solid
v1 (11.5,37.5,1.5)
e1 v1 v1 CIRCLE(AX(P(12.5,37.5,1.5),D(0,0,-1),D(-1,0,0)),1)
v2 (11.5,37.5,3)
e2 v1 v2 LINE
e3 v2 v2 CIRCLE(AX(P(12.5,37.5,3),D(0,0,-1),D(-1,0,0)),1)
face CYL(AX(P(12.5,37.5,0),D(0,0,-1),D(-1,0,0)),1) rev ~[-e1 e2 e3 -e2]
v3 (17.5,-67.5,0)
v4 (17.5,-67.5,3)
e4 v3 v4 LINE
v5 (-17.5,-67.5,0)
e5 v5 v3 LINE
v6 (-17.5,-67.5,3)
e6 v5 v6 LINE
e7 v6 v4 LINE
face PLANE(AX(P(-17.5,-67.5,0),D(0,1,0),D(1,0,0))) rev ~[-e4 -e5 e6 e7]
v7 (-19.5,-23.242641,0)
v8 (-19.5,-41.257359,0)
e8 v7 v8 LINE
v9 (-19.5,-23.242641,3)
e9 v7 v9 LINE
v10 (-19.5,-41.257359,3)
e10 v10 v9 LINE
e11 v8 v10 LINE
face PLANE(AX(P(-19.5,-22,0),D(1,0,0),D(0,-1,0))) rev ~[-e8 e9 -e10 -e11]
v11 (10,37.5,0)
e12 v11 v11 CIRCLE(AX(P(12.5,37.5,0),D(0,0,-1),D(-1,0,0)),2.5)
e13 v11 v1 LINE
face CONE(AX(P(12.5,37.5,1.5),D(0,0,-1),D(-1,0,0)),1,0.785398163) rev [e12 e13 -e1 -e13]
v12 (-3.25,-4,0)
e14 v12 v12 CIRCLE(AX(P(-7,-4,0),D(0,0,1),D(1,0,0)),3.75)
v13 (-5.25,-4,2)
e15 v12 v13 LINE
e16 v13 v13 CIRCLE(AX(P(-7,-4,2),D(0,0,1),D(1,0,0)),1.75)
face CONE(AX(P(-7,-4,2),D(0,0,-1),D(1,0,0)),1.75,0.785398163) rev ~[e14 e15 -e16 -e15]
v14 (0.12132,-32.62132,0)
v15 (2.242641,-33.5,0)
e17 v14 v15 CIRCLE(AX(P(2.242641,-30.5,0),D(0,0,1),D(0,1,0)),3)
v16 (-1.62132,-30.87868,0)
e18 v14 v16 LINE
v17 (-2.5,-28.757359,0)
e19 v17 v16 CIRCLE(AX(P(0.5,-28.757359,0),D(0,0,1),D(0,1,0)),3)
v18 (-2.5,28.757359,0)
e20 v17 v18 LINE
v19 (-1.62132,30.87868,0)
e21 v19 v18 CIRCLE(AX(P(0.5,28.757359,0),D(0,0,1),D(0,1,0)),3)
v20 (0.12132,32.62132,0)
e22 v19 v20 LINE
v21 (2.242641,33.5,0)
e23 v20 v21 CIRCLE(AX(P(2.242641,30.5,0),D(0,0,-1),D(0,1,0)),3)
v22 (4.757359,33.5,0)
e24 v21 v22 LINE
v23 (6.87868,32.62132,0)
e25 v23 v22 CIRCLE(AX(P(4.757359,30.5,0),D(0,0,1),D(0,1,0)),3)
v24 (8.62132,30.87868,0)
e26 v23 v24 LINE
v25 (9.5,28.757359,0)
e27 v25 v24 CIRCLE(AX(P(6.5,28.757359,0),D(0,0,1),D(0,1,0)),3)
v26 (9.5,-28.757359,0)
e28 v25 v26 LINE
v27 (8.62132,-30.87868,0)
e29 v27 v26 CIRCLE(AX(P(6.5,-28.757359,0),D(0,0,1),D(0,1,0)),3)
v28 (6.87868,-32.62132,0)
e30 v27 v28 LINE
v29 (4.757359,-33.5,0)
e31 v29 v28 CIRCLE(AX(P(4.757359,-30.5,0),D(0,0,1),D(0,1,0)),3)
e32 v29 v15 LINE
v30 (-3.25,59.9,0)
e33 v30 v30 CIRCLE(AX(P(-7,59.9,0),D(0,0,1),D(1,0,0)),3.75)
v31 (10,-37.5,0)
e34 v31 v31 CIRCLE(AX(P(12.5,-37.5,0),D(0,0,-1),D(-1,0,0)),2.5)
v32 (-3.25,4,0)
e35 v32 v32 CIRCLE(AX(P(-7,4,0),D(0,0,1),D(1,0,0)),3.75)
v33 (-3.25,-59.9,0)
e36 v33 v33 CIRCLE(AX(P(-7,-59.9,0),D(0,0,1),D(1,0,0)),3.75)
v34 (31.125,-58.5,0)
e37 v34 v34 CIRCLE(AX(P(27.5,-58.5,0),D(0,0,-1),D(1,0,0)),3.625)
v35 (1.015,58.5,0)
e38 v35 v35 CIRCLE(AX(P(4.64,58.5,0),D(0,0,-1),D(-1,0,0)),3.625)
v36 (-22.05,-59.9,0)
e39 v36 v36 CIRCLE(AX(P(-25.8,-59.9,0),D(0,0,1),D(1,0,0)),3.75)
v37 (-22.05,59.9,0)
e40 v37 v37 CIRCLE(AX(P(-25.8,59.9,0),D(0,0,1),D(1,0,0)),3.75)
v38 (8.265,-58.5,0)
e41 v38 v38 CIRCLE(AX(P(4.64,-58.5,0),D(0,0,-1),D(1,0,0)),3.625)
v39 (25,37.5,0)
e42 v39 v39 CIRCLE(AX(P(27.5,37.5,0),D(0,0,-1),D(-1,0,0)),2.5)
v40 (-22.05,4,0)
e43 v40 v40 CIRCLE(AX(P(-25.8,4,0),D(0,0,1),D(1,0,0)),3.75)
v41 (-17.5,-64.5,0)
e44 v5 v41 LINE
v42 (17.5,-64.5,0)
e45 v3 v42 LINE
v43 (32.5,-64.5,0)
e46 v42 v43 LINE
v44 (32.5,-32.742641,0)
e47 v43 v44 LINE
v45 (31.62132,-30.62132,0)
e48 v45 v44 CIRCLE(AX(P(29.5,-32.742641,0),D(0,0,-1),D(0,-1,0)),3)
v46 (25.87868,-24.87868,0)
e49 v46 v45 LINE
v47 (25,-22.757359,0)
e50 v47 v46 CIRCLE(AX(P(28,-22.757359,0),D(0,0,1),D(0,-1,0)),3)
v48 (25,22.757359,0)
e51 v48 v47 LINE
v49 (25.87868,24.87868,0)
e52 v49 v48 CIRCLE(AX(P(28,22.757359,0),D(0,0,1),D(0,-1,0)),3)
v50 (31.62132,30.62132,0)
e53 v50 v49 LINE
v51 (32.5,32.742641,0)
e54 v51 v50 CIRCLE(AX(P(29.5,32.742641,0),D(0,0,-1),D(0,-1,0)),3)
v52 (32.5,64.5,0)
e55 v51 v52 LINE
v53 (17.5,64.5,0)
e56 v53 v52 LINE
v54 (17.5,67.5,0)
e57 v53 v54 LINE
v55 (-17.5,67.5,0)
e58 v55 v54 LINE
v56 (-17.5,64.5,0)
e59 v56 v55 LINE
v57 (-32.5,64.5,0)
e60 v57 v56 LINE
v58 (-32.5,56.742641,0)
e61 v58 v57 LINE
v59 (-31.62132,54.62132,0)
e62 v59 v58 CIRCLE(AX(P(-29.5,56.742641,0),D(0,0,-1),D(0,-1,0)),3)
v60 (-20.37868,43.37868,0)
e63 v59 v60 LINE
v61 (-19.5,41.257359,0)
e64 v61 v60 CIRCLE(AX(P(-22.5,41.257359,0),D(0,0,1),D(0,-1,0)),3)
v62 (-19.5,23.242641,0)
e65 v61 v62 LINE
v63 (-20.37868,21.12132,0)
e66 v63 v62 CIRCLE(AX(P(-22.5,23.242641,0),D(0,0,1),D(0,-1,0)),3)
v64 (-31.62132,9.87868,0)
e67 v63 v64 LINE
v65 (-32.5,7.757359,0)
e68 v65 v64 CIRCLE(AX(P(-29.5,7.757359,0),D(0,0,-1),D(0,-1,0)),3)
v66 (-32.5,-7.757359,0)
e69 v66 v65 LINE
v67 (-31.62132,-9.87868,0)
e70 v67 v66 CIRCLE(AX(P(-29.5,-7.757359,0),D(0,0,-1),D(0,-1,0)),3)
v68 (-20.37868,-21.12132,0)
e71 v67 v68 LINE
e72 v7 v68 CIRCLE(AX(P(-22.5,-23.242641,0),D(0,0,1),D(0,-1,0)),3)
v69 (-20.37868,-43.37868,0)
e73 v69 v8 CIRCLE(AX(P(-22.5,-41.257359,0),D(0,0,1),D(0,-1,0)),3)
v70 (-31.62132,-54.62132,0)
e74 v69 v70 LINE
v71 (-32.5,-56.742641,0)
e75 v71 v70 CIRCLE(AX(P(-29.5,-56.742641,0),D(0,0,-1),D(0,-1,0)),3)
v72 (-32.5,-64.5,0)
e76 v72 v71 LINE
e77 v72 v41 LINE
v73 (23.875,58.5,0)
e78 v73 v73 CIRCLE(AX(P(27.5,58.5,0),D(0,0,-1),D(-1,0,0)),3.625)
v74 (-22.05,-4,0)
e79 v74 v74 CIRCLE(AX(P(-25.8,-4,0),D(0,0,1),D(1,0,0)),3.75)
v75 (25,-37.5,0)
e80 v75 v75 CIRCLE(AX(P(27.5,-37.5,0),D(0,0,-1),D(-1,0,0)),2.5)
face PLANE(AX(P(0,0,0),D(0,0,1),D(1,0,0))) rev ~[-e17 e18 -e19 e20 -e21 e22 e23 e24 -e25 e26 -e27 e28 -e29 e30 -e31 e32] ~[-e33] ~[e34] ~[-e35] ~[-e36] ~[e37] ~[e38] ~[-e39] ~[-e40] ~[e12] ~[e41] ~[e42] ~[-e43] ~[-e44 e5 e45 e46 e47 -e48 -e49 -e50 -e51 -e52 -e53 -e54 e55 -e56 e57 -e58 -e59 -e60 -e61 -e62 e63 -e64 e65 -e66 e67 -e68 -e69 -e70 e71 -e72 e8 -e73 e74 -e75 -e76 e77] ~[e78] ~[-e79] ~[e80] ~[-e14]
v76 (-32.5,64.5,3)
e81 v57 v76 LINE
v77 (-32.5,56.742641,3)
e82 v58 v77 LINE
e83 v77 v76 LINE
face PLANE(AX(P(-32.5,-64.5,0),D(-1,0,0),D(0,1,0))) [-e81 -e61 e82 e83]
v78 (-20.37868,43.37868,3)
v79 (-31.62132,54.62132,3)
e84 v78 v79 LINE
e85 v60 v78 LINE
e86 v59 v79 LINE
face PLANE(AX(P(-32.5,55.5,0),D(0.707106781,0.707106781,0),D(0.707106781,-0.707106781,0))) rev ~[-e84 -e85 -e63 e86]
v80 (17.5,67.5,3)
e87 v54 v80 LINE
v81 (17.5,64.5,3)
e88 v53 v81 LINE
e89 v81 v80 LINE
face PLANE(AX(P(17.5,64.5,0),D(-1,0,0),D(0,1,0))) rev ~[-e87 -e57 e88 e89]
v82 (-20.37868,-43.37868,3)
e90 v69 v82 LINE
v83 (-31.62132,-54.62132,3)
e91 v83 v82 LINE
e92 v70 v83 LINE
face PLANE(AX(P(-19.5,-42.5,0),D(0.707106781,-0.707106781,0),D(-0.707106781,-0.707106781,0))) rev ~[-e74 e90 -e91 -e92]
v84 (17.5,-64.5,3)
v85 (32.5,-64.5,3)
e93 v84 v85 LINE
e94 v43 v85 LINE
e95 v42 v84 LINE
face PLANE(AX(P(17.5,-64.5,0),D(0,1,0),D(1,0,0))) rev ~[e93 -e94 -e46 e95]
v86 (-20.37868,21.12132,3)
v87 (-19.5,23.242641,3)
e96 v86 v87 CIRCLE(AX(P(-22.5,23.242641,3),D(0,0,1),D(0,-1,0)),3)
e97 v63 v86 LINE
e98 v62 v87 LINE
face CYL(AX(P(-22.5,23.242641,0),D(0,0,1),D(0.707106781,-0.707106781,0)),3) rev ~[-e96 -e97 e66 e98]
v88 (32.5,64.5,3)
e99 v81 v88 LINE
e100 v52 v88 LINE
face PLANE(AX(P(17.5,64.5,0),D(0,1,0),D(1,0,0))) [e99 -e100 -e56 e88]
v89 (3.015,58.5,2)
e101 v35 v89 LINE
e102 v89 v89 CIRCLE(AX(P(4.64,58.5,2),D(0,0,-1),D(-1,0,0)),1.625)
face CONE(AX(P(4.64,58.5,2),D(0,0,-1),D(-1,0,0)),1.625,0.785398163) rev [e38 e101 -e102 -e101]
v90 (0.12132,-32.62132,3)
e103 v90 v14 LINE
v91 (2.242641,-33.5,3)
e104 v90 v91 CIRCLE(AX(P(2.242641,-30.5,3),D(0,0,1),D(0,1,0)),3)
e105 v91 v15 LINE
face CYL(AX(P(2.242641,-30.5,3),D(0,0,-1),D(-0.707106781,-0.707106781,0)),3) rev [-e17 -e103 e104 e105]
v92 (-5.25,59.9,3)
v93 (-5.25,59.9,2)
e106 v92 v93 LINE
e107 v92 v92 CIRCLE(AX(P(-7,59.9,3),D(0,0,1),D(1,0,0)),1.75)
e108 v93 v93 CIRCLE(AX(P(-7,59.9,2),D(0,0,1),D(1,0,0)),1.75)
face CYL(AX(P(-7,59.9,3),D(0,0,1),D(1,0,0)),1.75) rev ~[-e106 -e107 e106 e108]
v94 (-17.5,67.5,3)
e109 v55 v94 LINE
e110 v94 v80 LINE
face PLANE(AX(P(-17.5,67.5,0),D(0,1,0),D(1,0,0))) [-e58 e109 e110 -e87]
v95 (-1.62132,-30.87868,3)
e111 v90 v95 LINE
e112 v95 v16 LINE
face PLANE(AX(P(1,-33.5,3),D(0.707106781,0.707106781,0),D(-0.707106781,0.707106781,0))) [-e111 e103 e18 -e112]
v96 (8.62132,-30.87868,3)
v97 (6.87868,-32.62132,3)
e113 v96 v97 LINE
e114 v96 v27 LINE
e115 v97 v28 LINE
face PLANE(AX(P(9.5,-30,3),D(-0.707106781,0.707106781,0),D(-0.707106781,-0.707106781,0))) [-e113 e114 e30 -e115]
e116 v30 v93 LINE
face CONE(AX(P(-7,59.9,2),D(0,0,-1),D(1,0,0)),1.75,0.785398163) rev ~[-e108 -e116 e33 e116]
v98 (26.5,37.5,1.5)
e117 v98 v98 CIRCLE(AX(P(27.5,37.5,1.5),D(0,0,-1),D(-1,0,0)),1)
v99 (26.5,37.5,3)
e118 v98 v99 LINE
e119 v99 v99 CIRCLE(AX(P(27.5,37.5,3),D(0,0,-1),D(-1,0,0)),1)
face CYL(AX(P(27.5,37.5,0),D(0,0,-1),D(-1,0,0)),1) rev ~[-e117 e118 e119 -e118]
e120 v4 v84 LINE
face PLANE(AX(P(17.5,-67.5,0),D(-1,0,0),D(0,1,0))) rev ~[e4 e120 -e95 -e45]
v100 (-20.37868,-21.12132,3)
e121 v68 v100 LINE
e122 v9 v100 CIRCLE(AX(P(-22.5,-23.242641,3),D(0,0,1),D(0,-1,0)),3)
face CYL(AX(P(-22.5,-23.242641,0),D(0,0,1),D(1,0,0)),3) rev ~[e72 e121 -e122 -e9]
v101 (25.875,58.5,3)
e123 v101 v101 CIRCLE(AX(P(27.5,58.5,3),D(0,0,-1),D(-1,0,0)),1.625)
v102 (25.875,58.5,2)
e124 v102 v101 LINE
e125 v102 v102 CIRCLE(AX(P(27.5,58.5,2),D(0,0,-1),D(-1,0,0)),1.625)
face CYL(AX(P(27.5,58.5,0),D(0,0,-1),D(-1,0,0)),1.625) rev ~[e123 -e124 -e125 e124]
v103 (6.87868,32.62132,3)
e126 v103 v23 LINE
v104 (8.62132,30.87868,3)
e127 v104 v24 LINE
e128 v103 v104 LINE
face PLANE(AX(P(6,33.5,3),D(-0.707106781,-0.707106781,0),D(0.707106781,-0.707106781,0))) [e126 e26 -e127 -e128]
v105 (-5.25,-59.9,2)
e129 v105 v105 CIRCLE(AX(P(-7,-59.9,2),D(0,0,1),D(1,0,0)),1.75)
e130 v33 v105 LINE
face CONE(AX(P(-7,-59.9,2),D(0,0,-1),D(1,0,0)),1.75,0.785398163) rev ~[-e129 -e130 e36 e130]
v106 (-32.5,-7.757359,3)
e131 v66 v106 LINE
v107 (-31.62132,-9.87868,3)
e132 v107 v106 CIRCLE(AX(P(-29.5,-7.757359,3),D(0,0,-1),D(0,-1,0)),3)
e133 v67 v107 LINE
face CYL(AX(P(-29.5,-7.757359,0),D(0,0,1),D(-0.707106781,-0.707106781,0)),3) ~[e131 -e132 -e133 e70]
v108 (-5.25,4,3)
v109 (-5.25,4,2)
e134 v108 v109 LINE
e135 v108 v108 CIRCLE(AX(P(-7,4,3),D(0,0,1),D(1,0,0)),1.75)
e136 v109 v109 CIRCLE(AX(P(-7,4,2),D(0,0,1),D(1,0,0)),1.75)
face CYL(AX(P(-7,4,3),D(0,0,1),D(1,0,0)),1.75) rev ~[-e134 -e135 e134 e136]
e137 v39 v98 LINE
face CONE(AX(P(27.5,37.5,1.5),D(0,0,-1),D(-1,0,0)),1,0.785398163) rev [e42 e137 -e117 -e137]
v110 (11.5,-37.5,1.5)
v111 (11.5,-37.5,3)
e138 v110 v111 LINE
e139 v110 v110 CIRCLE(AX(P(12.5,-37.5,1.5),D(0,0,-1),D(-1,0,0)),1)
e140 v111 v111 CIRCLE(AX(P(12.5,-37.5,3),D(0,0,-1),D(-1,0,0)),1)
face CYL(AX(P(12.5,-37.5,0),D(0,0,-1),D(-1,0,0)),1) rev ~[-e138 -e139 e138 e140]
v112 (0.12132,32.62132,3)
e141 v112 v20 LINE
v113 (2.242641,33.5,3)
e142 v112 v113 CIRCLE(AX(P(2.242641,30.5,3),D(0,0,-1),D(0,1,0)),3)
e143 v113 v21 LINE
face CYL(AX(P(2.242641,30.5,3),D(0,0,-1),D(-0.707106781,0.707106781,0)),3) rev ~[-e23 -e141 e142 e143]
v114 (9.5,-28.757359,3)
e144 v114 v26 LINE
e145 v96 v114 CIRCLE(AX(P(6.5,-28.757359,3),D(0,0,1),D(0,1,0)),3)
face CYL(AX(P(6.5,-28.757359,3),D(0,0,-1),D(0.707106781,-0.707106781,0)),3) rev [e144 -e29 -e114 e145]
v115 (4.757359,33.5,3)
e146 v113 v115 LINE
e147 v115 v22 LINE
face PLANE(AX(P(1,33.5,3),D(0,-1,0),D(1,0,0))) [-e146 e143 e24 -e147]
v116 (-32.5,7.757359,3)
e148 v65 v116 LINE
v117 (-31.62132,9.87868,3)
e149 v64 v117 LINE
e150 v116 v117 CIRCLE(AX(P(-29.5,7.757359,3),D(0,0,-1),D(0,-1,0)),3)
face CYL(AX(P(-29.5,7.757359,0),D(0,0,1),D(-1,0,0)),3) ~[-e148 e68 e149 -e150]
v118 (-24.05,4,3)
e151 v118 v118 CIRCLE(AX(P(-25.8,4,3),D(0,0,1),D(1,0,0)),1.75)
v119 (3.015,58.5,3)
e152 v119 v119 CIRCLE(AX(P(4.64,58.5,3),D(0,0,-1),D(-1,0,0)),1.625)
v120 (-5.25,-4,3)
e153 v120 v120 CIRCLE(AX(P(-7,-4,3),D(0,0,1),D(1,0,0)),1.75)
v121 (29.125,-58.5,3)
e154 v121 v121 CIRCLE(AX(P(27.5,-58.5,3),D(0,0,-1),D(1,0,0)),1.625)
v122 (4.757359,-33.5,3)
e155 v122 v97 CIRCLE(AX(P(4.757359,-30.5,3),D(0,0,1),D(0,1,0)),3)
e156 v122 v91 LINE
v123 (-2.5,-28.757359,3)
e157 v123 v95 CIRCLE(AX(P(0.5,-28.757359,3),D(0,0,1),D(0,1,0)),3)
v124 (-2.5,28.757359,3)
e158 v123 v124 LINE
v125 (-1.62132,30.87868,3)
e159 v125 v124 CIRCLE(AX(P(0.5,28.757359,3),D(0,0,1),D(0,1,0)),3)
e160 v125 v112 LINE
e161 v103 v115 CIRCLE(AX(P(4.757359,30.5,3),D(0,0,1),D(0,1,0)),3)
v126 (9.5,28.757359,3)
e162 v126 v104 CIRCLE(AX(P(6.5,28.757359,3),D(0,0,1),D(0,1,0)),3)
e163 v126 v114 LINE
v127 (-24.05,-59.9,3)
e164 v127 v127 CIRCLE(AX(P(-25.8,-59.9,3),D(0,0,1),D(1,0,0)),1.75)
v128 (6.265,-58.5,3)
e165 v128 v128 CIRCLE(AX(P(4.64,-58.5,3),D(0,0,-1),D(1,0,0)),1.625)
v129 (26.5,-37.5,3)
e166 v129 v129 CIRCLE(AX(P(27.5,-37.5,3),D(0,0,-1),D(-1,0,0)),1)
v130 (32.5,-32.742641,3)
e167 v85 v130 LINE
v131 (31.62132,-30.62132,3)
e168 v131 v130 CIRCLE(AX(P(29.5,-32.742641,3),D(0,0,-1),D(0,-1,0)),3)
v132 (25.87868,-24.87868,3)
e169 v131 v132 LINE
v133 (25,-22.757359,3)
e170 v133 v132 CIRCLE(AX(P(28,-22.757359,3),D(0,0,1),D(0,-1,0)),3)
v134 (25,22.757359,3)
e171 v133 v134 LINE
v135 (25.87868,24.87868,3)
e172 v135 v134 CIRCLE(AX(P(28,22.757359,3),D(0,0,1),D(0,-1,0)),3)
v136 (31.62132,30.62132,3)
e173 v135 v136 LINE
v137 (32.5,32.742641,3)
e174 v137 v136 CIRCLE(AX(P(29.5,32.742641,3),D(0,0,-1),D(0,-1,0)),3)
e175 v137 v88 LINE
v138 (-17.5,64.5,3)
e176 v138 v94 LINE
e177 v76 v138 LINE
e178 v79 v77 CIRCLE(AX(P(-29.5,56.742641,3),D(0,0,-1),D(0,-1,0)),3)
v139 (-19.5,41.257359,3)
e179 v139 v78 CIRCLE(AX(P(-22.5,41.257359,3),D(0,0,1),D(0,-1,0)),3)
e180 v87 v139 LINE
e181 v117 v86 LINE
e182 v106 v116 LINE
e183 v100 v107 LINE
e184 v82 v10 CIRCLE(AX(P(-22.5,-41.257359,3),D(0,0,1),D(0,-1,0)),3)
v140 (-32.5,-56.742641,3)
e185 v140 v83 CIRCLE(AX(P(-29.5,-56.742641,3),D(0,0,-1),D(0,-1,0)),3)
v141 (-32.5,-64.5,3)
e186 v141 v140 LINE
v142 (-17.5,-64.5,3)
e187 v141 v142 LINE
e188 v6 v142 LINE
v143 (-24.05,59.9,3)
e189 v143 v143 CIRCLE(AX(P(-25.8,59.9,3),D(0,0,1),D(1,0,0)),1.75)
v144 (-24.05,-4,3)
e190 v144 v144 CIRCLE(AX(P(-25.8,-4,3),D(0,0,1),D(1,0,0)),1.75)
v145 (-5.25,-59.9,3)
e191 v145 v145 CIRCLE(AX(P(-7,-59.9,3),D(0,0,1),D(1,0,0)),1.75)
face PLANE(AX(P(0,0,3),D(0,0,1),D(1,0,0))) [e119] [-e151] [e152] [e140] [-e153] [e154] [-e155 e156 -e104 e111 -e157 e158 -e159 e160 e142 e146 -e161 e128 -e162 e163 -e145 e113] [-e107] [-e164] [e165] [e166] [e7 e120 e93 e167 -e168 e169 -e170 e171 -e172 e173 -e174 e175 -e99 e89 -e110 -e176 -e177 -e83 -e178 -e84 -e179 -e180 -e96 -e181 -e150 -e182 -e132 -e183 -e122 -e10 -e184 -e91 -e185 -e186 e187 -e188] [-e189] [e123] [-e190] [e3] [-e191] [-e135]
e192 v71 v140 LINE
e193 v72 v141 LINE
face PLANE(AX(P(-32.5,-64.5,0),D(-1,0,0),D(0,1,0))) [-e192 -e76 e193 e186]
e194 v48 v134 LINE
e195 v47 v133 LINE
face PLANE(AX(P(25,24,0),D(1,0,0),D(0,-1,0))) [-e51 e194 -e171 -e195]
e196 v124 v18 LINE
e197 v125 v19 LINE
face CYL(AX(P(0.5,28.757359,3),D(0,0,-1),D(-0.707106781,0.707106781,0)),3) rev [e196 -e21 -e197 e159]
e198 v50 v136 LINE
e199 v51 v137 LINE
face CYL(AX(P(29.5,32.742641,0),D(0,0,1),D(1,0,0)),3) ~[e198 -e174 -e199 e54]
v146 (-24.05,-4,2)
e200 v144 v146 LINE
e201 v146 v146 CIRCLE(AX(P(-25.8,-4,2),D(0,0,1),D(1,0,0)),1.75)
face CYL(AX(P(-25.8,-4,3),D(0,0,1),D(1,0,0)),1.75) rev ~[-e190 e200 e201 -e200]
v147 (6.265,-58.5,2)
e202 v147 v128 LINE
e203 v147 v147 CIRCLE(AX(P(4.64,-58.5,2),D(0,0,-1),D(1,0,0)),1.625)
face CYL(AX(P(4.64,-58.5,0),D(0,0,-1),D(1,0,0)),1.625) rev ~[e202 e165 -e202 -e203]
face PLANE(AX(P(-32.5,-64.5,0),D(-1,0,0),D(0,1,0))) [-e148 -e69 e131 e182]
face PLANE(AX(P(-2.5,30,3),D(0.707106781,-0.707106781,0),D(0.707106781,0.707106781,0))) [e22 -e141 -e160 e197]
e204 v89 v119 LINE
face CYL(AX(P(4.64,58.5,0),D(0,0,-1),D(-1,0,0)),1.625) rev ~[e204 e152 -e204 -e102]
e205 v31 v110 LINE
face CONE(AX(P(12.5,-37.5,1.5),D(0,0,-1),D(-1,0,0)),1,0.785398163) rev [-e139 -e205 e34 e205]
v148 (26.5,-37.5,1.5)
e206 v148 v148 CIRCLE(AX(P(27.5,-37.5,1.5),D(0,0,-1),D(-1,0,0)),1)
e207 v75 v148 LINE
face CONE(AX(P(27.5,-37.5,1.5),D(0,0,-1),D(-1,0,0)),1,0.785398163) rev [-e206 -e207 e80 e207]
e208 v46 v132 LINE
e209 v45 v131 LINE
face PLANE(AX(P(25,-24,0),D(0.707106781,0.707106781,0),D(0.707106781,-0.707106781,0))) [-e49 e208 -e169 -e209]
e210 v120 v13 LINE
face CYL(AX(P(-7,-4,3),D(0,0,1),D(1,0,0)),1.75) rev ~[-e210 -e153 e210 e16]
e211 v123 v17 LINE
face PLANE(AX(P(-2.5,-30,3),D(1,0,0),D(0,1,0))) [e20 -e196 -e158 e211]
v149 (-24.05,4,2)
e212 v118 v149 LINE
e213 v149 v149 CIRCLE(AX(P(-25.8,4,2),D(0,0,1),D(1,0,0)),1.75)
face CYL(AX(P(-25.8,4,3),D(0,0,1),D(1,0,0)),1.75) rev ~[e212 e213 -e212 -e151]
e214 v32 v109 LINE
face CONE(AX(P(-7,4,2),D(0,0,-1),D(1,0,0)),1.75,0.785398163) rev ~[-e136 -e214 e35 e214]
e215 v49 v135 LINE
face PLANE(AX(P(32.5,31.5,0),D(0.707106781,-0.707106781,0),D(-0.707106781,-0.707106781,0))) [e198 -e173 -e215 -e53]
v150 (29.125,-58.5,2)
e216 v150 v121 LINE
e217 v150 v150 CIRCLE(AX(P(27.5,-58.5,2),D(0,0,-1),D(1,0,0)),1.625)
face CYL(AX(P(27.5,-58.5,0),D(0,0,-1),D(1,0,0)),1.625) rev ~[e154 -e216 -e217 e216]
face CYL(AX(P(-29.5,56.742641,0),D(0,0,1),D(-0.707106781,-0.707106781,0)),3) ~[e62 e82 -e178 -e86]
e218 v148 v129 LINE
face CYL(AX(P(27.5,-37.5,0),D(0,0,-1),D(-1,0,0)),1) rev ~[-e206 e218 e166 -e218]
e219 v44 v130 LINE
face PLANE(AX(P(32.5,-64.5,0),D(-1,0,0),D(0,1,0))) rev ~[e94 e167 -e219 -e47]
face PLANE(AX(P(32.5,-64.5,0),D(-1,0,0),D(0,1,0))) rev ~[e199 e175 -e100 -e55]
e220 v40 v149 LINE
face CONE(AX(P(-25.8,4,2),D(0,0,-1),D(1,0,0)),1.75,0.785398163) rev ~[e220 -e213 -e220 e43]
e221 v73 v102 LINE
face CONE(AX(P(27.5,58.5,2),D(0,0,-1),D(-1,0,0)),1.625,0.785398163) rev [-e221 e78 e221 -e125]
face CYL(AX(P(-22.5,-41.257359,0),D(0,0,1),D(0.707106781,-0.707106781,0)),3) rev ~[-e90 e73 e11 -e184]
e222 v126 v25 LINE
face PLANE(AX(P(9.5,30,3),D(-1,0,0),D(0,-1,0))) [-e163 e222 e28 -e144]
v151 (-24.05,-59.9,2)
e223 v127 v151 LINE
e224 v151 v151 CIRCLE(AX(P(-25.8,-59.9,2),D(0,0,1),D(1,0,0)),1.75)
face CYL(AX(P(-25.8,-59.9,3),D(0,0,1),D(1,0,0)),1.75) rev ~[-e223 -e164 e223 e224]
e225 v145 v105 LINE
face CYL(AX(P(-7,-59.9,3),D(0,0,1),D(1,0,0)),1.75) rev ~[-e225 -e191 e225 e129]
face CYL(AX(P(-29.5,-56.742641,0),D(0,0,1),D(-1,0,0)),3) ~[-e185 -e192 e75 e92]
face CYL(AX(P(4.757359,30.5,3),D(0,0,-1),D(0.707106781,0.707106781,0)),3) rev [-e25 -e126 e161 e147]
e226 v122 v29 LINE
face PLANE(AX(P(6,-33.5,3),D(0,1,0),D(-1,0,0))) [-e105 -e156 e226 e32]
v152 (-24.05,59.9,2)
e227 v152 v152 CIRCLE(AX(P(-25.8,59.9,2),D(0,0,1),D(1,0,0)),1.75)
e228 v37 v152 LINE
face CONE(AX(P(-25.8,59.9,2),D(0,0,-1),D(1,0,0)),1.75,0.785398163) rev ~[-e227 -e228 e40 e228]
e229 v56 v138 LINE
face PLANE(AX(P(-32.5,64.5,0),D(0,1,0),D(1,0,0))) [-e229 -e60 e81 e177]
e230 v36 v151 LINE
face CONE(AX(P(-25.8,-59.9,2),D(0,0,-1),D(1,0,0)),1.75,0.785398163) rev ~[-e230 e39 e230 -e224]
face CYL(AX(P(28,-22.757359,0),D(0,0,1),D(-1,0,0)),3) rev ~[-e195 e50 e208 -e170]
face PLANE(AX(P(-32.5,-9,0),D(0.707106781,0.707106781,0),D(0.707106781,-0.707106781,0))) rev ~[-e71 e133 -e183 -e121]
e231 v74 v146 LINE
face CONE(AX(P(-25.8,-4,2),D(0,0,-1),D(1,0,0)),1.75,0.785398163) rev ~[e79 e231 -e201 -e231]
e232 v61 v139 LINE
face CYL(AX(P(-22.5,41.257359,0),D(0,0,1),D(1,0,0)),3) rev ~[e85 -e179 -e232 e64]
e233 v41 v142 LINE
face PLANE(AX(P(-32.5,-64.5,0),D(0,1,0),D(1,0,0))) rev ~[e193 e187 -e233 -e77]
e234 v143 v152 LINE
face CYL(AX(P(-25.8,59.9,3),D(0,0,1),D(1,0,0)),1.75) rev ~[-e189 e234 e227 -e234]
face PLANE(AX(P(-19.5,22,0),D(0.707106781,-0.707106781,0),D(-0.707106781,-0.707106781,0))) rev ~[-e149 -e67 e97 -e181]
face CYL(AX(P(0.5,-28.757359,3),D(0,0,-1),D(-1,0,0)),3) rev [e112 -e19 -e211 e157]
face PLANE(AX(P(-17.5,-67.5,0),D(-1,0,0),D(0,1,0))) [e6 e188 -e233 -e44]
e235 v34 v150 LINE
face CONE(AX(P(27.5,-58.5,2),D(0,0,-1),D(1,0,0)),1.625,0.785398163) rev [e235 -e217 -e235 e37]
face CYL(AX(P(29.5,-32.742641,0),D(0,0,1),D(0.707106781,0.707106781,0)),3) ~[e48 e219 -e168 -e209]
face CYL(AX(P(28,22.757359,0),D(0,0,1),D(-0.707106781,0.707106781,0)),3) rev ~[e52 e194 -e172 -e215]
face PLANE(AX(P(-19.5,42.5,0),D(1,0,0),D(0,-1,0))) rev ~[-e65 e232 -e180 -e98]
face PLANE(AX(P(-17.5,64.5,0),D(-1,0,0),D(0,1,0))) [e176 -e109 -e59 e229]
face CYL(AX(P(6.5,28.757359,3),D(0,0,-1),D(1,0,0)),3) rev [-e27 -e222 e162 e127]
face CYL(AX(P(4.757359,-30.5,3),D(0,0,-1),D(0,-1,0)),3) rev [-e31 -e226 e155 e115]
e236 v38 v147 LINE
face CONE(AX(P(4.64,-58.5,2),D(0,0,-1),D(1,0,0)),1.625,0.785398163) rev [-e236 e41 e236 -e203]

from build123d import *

# Parameters (mm, degrees)
SKETCH_1_W          = 65
SKETCH_1_H          = 129
SKETCH_1_W_2        = 35
SKETCH_1_H_2        = 6
EXTRUDE_1_DEPTH     = 3
SKETCH_2_R          = 1.75
CUT_EXTRUDE_1_DEPTH = 10
CHAMFER_1_SIZE      = 2
SKETCH_3_R          = 1
CUT_EXTRUDE_2_DEPTH = 10
CHAMFER_2_SIZE      = 1.5
CUT_EXTRUDE_3_DEPTH = 10
FILLET_1_R          = 3
CUT_EXTRUDE_4_DEPTH = 22
FILLET_2_R          = 3
SKETCH_6_R          = 1.625
CUT_EXTRUDE_5_DEPTH = 22
CHAMFER_3_SIZE      = 2
CUT_EXTRUDE_6_DEPTH = 22
FILLET_3_R          = 3


with BuildPart() as part:
    # Эскиз1 → Бобышка-Вытянуть1 (new body)
    with BuildSketch(Plane.XY):
        Rectangle(SKETCH_1_W, SKETCH_1_H)
        with Locations((0, 64.5)):
            Rectangle(SKETCH_1_W_2, SKETCH_1_H_2)
        with Locations((0, -64.5)):
            Rectangle(SKETCH_1_W_2, SKETCH_1_H_2)
    extrude(amount=EXTRUDE_1_DEPTH)

    # Эскиз2 → Вырез-Вытянуть1 (cut)
    with BuildSketch(Plane.XY.offset(3)):
        with Locations((-25.8, 59.9)):
            Circle(SKETCH_2_R)
        with Locations((-7, 59.9)):
            Circle(SKETCH_2_R)
        with Locations((-25.8, 4)):
            Circle(SKETCH_2_R)
        with Locations((-7, 4)):
            Circle(SKETCH_2_R)
        with Locations((-7, -4)):
            Circle(SKETCH_2_R)
        with Locations((-25.8, -4)):
            Circle(SKETCH_2_R)
        with Locations((-7, -59.9)):
            Circle(SKETCH_2_R)
        with Locations((-25.8, -59.9)):
            Circle(SKETCH_2_R)
    extrude(amount=-CUT_EXTRUDE_1_DEPTH, mode=Mode.SUBTRACT)

    # Фаска1
    chamfer_1_edges = [part.edges().sort_by_distance(p)[0] for p in [
        (-8.75, 4, 0),
        (-27.55, 4, 0),
        (-8.75, -4, 0),
        (-8.75, 59.9, 0),
        (-27.55, -59.9, 0),
        (-8.75, -59.9, 0),
        (-27.55, -4, 0),
        (-27.55, 59.9, 0),
    ]]
    chamfer(chamfer_1_edges, length=CHAMFER_1_SIZE)

    # Эскиз3 → Вырез-Вытянуть2 (cut)
    with BuildSketch(Plane(origin=(0, 0, 0), x_dir=(-1, 0, 0), z_dir=(0, 0, -1))):
        with Locations((-27.5, 37.5)):
            Circle(SKETCH_3_R)
        with Locations((-12.5, 37.5)):
            Circle(SKETCH_3_R)
        with Locations((-27.5, -37.5)):
            Circle(SKETCH_3_R)
        with Locations((-12.5, -37.5)):
            Circle(SKETCH_3_R)
    extrude(amount=-CUT_EXTRUDE_2_DEPTH, mode=Mode.SUBTRACT)

    # Фаска2
    chamfer_2_edges = [part.edges().sort_by_distance(p)[0] for p in [
        (13.5, 37.5, 0),
        (28.5, -37.5, 0),
        (13.5, -37.5, 0),
        (28.5, 37.5, 0),
    ]]
    chamfer(chamfer_2_edges, length=CHAMFER_2_SIZE)

    # Эскиз4 → Вырез-Вытянуть3 (cut)
    with BuildSketch(Plane(origin=(0, 0, 0), x_dir=(-1, 0, 0), z_dir=(0, 0, -1))):
        Polygon((32.5, 55.5), (19.5, 42.5), (19.5, 22), (32.5, 9), (37.771171481, 9), (37.771171481, 55.5), align=None)
        Polygon((37.771171481, -9), (32.5, -9), (19.5, -22), (19.5, -42.5), (32.5, -55.5), (37.771171481, -55.5), align=None)
    extrude(amount=-CUT_EXTRUDE_3_DEPTH, mode=Mode.SUBTRACT)

    # Скругление1
    fillet_1_edges = [part.edges().sort_by_distance(p)[0] for p in [
        (-32.5, 55.5, 1.5),
        (-32.5, 9, 1.5),
        (-19.5, 22, 1.5),
        (-19.5, 42.5, 1.5),
        (-32.5, -55.5, 1.5),
        (-19.5, -42.5, 1.5),
        (-19.5, -22, 1.5),
        (-32.5, -9, 1.5),
    ]]
    fillet(fillet_1_edges, radius=FILLET_1_R)

    # Эскиз5 → Вырез-Вытянуть4 (cut)
    with BuildSketch(Plane.XY.offset(3)):
        Polygon((1, 33.5), (6, 33.5), (9.5, 30), (9.5, -30), (6, -33.5), (1, -33.5), (-2.5, -30), (-2.5, 30), align=None)
    extrude(amount=-CUT_EXTRUDE_4_DEPTH, mode=Mode.SUBTRACT)

    # Скругление2
    fillet_2_edges = [part.edges().sort_by_distance(p)[0] for p in [
        (-2.5, 30, 1.5),
        (1, 33.5, 1.5),
        (6, 33.5, 1.5),
        (9.5, 30, 1.5),
        (9.5, -30, 1.5),
        (6, -33.5, 1.5),
        (1, -33.5, 1.5),
        (-2.5, -30, 1.5),
    ]]
    fillet(fillet_2_edges, radius=FILLET_2_R)

    # Эскиз6 → Вырез-Вытянуть5 (cut)
    with BuildSketch(Plane(origin=(0, 0, 0), x_dir=(-1, 0, 0), z_dir=(0, 0, -1))):
        with Locations((-27.5, 58.5)):
            Circle(SKETCH_6_R)
        with Locations((-4.64, 58.5)):
            Circle(SKETCH_6_R)
        with Locations(Location((-4.64, -58.5, 0), (0, 0, 180))):
            Circle(SKETCH_6_R)
        with Locations(Location((-27.5, -58.5, 0), (0, 0, 180))):
            Circle(SKETCH_6_R)
    extrude(amount=-CUT_EXTRUDE_5_DEPTH, mode=Mode.SUBTRACT)

    # Фаска3
    chamfer_3_edges = [part.edges().sort_by_distance(p)[0] for p in [
        (25.875, -58.5, 0),
        (3.015, -58.5, 0),
        (6.265, 58.5, 0),
        (29.125, 58.5, 0),
    ]]
    chamfer(chamfer_3_edges, length=CHAMFER_3_SIZE)

    # Эскиз7 → Вырез-Вытянуть6 (cut)
    with BuildSketch(Plane(origin=(0, 0, 0), x_dir=(-1, 0, 0), z_dir=(0, 0, -1))):
        Polygon((-32.5, 31.5), (-25, 24), (-25, -24), (-32.5, -31.5), (-45.278414839, -31.5), (-45.278414839, 31.5), align=None)
    extrude(amount=-CUT_EXTRUDE_6_DEPTH, mode=Mode.SUBTRACT)

    # Скругление3
    fillet_3_edges = [part.edges().sort_by_distance(p)[0] for p in [
        (32.5, 31.5, 1.5),
        (25, 24, 1.5),
        (25, -24, 1.5),
        (32.5, -31.5, 1.5),
    ]]
    fillet(fillet_3_edges, radius=FILLET_3_R)


solid = part.part
